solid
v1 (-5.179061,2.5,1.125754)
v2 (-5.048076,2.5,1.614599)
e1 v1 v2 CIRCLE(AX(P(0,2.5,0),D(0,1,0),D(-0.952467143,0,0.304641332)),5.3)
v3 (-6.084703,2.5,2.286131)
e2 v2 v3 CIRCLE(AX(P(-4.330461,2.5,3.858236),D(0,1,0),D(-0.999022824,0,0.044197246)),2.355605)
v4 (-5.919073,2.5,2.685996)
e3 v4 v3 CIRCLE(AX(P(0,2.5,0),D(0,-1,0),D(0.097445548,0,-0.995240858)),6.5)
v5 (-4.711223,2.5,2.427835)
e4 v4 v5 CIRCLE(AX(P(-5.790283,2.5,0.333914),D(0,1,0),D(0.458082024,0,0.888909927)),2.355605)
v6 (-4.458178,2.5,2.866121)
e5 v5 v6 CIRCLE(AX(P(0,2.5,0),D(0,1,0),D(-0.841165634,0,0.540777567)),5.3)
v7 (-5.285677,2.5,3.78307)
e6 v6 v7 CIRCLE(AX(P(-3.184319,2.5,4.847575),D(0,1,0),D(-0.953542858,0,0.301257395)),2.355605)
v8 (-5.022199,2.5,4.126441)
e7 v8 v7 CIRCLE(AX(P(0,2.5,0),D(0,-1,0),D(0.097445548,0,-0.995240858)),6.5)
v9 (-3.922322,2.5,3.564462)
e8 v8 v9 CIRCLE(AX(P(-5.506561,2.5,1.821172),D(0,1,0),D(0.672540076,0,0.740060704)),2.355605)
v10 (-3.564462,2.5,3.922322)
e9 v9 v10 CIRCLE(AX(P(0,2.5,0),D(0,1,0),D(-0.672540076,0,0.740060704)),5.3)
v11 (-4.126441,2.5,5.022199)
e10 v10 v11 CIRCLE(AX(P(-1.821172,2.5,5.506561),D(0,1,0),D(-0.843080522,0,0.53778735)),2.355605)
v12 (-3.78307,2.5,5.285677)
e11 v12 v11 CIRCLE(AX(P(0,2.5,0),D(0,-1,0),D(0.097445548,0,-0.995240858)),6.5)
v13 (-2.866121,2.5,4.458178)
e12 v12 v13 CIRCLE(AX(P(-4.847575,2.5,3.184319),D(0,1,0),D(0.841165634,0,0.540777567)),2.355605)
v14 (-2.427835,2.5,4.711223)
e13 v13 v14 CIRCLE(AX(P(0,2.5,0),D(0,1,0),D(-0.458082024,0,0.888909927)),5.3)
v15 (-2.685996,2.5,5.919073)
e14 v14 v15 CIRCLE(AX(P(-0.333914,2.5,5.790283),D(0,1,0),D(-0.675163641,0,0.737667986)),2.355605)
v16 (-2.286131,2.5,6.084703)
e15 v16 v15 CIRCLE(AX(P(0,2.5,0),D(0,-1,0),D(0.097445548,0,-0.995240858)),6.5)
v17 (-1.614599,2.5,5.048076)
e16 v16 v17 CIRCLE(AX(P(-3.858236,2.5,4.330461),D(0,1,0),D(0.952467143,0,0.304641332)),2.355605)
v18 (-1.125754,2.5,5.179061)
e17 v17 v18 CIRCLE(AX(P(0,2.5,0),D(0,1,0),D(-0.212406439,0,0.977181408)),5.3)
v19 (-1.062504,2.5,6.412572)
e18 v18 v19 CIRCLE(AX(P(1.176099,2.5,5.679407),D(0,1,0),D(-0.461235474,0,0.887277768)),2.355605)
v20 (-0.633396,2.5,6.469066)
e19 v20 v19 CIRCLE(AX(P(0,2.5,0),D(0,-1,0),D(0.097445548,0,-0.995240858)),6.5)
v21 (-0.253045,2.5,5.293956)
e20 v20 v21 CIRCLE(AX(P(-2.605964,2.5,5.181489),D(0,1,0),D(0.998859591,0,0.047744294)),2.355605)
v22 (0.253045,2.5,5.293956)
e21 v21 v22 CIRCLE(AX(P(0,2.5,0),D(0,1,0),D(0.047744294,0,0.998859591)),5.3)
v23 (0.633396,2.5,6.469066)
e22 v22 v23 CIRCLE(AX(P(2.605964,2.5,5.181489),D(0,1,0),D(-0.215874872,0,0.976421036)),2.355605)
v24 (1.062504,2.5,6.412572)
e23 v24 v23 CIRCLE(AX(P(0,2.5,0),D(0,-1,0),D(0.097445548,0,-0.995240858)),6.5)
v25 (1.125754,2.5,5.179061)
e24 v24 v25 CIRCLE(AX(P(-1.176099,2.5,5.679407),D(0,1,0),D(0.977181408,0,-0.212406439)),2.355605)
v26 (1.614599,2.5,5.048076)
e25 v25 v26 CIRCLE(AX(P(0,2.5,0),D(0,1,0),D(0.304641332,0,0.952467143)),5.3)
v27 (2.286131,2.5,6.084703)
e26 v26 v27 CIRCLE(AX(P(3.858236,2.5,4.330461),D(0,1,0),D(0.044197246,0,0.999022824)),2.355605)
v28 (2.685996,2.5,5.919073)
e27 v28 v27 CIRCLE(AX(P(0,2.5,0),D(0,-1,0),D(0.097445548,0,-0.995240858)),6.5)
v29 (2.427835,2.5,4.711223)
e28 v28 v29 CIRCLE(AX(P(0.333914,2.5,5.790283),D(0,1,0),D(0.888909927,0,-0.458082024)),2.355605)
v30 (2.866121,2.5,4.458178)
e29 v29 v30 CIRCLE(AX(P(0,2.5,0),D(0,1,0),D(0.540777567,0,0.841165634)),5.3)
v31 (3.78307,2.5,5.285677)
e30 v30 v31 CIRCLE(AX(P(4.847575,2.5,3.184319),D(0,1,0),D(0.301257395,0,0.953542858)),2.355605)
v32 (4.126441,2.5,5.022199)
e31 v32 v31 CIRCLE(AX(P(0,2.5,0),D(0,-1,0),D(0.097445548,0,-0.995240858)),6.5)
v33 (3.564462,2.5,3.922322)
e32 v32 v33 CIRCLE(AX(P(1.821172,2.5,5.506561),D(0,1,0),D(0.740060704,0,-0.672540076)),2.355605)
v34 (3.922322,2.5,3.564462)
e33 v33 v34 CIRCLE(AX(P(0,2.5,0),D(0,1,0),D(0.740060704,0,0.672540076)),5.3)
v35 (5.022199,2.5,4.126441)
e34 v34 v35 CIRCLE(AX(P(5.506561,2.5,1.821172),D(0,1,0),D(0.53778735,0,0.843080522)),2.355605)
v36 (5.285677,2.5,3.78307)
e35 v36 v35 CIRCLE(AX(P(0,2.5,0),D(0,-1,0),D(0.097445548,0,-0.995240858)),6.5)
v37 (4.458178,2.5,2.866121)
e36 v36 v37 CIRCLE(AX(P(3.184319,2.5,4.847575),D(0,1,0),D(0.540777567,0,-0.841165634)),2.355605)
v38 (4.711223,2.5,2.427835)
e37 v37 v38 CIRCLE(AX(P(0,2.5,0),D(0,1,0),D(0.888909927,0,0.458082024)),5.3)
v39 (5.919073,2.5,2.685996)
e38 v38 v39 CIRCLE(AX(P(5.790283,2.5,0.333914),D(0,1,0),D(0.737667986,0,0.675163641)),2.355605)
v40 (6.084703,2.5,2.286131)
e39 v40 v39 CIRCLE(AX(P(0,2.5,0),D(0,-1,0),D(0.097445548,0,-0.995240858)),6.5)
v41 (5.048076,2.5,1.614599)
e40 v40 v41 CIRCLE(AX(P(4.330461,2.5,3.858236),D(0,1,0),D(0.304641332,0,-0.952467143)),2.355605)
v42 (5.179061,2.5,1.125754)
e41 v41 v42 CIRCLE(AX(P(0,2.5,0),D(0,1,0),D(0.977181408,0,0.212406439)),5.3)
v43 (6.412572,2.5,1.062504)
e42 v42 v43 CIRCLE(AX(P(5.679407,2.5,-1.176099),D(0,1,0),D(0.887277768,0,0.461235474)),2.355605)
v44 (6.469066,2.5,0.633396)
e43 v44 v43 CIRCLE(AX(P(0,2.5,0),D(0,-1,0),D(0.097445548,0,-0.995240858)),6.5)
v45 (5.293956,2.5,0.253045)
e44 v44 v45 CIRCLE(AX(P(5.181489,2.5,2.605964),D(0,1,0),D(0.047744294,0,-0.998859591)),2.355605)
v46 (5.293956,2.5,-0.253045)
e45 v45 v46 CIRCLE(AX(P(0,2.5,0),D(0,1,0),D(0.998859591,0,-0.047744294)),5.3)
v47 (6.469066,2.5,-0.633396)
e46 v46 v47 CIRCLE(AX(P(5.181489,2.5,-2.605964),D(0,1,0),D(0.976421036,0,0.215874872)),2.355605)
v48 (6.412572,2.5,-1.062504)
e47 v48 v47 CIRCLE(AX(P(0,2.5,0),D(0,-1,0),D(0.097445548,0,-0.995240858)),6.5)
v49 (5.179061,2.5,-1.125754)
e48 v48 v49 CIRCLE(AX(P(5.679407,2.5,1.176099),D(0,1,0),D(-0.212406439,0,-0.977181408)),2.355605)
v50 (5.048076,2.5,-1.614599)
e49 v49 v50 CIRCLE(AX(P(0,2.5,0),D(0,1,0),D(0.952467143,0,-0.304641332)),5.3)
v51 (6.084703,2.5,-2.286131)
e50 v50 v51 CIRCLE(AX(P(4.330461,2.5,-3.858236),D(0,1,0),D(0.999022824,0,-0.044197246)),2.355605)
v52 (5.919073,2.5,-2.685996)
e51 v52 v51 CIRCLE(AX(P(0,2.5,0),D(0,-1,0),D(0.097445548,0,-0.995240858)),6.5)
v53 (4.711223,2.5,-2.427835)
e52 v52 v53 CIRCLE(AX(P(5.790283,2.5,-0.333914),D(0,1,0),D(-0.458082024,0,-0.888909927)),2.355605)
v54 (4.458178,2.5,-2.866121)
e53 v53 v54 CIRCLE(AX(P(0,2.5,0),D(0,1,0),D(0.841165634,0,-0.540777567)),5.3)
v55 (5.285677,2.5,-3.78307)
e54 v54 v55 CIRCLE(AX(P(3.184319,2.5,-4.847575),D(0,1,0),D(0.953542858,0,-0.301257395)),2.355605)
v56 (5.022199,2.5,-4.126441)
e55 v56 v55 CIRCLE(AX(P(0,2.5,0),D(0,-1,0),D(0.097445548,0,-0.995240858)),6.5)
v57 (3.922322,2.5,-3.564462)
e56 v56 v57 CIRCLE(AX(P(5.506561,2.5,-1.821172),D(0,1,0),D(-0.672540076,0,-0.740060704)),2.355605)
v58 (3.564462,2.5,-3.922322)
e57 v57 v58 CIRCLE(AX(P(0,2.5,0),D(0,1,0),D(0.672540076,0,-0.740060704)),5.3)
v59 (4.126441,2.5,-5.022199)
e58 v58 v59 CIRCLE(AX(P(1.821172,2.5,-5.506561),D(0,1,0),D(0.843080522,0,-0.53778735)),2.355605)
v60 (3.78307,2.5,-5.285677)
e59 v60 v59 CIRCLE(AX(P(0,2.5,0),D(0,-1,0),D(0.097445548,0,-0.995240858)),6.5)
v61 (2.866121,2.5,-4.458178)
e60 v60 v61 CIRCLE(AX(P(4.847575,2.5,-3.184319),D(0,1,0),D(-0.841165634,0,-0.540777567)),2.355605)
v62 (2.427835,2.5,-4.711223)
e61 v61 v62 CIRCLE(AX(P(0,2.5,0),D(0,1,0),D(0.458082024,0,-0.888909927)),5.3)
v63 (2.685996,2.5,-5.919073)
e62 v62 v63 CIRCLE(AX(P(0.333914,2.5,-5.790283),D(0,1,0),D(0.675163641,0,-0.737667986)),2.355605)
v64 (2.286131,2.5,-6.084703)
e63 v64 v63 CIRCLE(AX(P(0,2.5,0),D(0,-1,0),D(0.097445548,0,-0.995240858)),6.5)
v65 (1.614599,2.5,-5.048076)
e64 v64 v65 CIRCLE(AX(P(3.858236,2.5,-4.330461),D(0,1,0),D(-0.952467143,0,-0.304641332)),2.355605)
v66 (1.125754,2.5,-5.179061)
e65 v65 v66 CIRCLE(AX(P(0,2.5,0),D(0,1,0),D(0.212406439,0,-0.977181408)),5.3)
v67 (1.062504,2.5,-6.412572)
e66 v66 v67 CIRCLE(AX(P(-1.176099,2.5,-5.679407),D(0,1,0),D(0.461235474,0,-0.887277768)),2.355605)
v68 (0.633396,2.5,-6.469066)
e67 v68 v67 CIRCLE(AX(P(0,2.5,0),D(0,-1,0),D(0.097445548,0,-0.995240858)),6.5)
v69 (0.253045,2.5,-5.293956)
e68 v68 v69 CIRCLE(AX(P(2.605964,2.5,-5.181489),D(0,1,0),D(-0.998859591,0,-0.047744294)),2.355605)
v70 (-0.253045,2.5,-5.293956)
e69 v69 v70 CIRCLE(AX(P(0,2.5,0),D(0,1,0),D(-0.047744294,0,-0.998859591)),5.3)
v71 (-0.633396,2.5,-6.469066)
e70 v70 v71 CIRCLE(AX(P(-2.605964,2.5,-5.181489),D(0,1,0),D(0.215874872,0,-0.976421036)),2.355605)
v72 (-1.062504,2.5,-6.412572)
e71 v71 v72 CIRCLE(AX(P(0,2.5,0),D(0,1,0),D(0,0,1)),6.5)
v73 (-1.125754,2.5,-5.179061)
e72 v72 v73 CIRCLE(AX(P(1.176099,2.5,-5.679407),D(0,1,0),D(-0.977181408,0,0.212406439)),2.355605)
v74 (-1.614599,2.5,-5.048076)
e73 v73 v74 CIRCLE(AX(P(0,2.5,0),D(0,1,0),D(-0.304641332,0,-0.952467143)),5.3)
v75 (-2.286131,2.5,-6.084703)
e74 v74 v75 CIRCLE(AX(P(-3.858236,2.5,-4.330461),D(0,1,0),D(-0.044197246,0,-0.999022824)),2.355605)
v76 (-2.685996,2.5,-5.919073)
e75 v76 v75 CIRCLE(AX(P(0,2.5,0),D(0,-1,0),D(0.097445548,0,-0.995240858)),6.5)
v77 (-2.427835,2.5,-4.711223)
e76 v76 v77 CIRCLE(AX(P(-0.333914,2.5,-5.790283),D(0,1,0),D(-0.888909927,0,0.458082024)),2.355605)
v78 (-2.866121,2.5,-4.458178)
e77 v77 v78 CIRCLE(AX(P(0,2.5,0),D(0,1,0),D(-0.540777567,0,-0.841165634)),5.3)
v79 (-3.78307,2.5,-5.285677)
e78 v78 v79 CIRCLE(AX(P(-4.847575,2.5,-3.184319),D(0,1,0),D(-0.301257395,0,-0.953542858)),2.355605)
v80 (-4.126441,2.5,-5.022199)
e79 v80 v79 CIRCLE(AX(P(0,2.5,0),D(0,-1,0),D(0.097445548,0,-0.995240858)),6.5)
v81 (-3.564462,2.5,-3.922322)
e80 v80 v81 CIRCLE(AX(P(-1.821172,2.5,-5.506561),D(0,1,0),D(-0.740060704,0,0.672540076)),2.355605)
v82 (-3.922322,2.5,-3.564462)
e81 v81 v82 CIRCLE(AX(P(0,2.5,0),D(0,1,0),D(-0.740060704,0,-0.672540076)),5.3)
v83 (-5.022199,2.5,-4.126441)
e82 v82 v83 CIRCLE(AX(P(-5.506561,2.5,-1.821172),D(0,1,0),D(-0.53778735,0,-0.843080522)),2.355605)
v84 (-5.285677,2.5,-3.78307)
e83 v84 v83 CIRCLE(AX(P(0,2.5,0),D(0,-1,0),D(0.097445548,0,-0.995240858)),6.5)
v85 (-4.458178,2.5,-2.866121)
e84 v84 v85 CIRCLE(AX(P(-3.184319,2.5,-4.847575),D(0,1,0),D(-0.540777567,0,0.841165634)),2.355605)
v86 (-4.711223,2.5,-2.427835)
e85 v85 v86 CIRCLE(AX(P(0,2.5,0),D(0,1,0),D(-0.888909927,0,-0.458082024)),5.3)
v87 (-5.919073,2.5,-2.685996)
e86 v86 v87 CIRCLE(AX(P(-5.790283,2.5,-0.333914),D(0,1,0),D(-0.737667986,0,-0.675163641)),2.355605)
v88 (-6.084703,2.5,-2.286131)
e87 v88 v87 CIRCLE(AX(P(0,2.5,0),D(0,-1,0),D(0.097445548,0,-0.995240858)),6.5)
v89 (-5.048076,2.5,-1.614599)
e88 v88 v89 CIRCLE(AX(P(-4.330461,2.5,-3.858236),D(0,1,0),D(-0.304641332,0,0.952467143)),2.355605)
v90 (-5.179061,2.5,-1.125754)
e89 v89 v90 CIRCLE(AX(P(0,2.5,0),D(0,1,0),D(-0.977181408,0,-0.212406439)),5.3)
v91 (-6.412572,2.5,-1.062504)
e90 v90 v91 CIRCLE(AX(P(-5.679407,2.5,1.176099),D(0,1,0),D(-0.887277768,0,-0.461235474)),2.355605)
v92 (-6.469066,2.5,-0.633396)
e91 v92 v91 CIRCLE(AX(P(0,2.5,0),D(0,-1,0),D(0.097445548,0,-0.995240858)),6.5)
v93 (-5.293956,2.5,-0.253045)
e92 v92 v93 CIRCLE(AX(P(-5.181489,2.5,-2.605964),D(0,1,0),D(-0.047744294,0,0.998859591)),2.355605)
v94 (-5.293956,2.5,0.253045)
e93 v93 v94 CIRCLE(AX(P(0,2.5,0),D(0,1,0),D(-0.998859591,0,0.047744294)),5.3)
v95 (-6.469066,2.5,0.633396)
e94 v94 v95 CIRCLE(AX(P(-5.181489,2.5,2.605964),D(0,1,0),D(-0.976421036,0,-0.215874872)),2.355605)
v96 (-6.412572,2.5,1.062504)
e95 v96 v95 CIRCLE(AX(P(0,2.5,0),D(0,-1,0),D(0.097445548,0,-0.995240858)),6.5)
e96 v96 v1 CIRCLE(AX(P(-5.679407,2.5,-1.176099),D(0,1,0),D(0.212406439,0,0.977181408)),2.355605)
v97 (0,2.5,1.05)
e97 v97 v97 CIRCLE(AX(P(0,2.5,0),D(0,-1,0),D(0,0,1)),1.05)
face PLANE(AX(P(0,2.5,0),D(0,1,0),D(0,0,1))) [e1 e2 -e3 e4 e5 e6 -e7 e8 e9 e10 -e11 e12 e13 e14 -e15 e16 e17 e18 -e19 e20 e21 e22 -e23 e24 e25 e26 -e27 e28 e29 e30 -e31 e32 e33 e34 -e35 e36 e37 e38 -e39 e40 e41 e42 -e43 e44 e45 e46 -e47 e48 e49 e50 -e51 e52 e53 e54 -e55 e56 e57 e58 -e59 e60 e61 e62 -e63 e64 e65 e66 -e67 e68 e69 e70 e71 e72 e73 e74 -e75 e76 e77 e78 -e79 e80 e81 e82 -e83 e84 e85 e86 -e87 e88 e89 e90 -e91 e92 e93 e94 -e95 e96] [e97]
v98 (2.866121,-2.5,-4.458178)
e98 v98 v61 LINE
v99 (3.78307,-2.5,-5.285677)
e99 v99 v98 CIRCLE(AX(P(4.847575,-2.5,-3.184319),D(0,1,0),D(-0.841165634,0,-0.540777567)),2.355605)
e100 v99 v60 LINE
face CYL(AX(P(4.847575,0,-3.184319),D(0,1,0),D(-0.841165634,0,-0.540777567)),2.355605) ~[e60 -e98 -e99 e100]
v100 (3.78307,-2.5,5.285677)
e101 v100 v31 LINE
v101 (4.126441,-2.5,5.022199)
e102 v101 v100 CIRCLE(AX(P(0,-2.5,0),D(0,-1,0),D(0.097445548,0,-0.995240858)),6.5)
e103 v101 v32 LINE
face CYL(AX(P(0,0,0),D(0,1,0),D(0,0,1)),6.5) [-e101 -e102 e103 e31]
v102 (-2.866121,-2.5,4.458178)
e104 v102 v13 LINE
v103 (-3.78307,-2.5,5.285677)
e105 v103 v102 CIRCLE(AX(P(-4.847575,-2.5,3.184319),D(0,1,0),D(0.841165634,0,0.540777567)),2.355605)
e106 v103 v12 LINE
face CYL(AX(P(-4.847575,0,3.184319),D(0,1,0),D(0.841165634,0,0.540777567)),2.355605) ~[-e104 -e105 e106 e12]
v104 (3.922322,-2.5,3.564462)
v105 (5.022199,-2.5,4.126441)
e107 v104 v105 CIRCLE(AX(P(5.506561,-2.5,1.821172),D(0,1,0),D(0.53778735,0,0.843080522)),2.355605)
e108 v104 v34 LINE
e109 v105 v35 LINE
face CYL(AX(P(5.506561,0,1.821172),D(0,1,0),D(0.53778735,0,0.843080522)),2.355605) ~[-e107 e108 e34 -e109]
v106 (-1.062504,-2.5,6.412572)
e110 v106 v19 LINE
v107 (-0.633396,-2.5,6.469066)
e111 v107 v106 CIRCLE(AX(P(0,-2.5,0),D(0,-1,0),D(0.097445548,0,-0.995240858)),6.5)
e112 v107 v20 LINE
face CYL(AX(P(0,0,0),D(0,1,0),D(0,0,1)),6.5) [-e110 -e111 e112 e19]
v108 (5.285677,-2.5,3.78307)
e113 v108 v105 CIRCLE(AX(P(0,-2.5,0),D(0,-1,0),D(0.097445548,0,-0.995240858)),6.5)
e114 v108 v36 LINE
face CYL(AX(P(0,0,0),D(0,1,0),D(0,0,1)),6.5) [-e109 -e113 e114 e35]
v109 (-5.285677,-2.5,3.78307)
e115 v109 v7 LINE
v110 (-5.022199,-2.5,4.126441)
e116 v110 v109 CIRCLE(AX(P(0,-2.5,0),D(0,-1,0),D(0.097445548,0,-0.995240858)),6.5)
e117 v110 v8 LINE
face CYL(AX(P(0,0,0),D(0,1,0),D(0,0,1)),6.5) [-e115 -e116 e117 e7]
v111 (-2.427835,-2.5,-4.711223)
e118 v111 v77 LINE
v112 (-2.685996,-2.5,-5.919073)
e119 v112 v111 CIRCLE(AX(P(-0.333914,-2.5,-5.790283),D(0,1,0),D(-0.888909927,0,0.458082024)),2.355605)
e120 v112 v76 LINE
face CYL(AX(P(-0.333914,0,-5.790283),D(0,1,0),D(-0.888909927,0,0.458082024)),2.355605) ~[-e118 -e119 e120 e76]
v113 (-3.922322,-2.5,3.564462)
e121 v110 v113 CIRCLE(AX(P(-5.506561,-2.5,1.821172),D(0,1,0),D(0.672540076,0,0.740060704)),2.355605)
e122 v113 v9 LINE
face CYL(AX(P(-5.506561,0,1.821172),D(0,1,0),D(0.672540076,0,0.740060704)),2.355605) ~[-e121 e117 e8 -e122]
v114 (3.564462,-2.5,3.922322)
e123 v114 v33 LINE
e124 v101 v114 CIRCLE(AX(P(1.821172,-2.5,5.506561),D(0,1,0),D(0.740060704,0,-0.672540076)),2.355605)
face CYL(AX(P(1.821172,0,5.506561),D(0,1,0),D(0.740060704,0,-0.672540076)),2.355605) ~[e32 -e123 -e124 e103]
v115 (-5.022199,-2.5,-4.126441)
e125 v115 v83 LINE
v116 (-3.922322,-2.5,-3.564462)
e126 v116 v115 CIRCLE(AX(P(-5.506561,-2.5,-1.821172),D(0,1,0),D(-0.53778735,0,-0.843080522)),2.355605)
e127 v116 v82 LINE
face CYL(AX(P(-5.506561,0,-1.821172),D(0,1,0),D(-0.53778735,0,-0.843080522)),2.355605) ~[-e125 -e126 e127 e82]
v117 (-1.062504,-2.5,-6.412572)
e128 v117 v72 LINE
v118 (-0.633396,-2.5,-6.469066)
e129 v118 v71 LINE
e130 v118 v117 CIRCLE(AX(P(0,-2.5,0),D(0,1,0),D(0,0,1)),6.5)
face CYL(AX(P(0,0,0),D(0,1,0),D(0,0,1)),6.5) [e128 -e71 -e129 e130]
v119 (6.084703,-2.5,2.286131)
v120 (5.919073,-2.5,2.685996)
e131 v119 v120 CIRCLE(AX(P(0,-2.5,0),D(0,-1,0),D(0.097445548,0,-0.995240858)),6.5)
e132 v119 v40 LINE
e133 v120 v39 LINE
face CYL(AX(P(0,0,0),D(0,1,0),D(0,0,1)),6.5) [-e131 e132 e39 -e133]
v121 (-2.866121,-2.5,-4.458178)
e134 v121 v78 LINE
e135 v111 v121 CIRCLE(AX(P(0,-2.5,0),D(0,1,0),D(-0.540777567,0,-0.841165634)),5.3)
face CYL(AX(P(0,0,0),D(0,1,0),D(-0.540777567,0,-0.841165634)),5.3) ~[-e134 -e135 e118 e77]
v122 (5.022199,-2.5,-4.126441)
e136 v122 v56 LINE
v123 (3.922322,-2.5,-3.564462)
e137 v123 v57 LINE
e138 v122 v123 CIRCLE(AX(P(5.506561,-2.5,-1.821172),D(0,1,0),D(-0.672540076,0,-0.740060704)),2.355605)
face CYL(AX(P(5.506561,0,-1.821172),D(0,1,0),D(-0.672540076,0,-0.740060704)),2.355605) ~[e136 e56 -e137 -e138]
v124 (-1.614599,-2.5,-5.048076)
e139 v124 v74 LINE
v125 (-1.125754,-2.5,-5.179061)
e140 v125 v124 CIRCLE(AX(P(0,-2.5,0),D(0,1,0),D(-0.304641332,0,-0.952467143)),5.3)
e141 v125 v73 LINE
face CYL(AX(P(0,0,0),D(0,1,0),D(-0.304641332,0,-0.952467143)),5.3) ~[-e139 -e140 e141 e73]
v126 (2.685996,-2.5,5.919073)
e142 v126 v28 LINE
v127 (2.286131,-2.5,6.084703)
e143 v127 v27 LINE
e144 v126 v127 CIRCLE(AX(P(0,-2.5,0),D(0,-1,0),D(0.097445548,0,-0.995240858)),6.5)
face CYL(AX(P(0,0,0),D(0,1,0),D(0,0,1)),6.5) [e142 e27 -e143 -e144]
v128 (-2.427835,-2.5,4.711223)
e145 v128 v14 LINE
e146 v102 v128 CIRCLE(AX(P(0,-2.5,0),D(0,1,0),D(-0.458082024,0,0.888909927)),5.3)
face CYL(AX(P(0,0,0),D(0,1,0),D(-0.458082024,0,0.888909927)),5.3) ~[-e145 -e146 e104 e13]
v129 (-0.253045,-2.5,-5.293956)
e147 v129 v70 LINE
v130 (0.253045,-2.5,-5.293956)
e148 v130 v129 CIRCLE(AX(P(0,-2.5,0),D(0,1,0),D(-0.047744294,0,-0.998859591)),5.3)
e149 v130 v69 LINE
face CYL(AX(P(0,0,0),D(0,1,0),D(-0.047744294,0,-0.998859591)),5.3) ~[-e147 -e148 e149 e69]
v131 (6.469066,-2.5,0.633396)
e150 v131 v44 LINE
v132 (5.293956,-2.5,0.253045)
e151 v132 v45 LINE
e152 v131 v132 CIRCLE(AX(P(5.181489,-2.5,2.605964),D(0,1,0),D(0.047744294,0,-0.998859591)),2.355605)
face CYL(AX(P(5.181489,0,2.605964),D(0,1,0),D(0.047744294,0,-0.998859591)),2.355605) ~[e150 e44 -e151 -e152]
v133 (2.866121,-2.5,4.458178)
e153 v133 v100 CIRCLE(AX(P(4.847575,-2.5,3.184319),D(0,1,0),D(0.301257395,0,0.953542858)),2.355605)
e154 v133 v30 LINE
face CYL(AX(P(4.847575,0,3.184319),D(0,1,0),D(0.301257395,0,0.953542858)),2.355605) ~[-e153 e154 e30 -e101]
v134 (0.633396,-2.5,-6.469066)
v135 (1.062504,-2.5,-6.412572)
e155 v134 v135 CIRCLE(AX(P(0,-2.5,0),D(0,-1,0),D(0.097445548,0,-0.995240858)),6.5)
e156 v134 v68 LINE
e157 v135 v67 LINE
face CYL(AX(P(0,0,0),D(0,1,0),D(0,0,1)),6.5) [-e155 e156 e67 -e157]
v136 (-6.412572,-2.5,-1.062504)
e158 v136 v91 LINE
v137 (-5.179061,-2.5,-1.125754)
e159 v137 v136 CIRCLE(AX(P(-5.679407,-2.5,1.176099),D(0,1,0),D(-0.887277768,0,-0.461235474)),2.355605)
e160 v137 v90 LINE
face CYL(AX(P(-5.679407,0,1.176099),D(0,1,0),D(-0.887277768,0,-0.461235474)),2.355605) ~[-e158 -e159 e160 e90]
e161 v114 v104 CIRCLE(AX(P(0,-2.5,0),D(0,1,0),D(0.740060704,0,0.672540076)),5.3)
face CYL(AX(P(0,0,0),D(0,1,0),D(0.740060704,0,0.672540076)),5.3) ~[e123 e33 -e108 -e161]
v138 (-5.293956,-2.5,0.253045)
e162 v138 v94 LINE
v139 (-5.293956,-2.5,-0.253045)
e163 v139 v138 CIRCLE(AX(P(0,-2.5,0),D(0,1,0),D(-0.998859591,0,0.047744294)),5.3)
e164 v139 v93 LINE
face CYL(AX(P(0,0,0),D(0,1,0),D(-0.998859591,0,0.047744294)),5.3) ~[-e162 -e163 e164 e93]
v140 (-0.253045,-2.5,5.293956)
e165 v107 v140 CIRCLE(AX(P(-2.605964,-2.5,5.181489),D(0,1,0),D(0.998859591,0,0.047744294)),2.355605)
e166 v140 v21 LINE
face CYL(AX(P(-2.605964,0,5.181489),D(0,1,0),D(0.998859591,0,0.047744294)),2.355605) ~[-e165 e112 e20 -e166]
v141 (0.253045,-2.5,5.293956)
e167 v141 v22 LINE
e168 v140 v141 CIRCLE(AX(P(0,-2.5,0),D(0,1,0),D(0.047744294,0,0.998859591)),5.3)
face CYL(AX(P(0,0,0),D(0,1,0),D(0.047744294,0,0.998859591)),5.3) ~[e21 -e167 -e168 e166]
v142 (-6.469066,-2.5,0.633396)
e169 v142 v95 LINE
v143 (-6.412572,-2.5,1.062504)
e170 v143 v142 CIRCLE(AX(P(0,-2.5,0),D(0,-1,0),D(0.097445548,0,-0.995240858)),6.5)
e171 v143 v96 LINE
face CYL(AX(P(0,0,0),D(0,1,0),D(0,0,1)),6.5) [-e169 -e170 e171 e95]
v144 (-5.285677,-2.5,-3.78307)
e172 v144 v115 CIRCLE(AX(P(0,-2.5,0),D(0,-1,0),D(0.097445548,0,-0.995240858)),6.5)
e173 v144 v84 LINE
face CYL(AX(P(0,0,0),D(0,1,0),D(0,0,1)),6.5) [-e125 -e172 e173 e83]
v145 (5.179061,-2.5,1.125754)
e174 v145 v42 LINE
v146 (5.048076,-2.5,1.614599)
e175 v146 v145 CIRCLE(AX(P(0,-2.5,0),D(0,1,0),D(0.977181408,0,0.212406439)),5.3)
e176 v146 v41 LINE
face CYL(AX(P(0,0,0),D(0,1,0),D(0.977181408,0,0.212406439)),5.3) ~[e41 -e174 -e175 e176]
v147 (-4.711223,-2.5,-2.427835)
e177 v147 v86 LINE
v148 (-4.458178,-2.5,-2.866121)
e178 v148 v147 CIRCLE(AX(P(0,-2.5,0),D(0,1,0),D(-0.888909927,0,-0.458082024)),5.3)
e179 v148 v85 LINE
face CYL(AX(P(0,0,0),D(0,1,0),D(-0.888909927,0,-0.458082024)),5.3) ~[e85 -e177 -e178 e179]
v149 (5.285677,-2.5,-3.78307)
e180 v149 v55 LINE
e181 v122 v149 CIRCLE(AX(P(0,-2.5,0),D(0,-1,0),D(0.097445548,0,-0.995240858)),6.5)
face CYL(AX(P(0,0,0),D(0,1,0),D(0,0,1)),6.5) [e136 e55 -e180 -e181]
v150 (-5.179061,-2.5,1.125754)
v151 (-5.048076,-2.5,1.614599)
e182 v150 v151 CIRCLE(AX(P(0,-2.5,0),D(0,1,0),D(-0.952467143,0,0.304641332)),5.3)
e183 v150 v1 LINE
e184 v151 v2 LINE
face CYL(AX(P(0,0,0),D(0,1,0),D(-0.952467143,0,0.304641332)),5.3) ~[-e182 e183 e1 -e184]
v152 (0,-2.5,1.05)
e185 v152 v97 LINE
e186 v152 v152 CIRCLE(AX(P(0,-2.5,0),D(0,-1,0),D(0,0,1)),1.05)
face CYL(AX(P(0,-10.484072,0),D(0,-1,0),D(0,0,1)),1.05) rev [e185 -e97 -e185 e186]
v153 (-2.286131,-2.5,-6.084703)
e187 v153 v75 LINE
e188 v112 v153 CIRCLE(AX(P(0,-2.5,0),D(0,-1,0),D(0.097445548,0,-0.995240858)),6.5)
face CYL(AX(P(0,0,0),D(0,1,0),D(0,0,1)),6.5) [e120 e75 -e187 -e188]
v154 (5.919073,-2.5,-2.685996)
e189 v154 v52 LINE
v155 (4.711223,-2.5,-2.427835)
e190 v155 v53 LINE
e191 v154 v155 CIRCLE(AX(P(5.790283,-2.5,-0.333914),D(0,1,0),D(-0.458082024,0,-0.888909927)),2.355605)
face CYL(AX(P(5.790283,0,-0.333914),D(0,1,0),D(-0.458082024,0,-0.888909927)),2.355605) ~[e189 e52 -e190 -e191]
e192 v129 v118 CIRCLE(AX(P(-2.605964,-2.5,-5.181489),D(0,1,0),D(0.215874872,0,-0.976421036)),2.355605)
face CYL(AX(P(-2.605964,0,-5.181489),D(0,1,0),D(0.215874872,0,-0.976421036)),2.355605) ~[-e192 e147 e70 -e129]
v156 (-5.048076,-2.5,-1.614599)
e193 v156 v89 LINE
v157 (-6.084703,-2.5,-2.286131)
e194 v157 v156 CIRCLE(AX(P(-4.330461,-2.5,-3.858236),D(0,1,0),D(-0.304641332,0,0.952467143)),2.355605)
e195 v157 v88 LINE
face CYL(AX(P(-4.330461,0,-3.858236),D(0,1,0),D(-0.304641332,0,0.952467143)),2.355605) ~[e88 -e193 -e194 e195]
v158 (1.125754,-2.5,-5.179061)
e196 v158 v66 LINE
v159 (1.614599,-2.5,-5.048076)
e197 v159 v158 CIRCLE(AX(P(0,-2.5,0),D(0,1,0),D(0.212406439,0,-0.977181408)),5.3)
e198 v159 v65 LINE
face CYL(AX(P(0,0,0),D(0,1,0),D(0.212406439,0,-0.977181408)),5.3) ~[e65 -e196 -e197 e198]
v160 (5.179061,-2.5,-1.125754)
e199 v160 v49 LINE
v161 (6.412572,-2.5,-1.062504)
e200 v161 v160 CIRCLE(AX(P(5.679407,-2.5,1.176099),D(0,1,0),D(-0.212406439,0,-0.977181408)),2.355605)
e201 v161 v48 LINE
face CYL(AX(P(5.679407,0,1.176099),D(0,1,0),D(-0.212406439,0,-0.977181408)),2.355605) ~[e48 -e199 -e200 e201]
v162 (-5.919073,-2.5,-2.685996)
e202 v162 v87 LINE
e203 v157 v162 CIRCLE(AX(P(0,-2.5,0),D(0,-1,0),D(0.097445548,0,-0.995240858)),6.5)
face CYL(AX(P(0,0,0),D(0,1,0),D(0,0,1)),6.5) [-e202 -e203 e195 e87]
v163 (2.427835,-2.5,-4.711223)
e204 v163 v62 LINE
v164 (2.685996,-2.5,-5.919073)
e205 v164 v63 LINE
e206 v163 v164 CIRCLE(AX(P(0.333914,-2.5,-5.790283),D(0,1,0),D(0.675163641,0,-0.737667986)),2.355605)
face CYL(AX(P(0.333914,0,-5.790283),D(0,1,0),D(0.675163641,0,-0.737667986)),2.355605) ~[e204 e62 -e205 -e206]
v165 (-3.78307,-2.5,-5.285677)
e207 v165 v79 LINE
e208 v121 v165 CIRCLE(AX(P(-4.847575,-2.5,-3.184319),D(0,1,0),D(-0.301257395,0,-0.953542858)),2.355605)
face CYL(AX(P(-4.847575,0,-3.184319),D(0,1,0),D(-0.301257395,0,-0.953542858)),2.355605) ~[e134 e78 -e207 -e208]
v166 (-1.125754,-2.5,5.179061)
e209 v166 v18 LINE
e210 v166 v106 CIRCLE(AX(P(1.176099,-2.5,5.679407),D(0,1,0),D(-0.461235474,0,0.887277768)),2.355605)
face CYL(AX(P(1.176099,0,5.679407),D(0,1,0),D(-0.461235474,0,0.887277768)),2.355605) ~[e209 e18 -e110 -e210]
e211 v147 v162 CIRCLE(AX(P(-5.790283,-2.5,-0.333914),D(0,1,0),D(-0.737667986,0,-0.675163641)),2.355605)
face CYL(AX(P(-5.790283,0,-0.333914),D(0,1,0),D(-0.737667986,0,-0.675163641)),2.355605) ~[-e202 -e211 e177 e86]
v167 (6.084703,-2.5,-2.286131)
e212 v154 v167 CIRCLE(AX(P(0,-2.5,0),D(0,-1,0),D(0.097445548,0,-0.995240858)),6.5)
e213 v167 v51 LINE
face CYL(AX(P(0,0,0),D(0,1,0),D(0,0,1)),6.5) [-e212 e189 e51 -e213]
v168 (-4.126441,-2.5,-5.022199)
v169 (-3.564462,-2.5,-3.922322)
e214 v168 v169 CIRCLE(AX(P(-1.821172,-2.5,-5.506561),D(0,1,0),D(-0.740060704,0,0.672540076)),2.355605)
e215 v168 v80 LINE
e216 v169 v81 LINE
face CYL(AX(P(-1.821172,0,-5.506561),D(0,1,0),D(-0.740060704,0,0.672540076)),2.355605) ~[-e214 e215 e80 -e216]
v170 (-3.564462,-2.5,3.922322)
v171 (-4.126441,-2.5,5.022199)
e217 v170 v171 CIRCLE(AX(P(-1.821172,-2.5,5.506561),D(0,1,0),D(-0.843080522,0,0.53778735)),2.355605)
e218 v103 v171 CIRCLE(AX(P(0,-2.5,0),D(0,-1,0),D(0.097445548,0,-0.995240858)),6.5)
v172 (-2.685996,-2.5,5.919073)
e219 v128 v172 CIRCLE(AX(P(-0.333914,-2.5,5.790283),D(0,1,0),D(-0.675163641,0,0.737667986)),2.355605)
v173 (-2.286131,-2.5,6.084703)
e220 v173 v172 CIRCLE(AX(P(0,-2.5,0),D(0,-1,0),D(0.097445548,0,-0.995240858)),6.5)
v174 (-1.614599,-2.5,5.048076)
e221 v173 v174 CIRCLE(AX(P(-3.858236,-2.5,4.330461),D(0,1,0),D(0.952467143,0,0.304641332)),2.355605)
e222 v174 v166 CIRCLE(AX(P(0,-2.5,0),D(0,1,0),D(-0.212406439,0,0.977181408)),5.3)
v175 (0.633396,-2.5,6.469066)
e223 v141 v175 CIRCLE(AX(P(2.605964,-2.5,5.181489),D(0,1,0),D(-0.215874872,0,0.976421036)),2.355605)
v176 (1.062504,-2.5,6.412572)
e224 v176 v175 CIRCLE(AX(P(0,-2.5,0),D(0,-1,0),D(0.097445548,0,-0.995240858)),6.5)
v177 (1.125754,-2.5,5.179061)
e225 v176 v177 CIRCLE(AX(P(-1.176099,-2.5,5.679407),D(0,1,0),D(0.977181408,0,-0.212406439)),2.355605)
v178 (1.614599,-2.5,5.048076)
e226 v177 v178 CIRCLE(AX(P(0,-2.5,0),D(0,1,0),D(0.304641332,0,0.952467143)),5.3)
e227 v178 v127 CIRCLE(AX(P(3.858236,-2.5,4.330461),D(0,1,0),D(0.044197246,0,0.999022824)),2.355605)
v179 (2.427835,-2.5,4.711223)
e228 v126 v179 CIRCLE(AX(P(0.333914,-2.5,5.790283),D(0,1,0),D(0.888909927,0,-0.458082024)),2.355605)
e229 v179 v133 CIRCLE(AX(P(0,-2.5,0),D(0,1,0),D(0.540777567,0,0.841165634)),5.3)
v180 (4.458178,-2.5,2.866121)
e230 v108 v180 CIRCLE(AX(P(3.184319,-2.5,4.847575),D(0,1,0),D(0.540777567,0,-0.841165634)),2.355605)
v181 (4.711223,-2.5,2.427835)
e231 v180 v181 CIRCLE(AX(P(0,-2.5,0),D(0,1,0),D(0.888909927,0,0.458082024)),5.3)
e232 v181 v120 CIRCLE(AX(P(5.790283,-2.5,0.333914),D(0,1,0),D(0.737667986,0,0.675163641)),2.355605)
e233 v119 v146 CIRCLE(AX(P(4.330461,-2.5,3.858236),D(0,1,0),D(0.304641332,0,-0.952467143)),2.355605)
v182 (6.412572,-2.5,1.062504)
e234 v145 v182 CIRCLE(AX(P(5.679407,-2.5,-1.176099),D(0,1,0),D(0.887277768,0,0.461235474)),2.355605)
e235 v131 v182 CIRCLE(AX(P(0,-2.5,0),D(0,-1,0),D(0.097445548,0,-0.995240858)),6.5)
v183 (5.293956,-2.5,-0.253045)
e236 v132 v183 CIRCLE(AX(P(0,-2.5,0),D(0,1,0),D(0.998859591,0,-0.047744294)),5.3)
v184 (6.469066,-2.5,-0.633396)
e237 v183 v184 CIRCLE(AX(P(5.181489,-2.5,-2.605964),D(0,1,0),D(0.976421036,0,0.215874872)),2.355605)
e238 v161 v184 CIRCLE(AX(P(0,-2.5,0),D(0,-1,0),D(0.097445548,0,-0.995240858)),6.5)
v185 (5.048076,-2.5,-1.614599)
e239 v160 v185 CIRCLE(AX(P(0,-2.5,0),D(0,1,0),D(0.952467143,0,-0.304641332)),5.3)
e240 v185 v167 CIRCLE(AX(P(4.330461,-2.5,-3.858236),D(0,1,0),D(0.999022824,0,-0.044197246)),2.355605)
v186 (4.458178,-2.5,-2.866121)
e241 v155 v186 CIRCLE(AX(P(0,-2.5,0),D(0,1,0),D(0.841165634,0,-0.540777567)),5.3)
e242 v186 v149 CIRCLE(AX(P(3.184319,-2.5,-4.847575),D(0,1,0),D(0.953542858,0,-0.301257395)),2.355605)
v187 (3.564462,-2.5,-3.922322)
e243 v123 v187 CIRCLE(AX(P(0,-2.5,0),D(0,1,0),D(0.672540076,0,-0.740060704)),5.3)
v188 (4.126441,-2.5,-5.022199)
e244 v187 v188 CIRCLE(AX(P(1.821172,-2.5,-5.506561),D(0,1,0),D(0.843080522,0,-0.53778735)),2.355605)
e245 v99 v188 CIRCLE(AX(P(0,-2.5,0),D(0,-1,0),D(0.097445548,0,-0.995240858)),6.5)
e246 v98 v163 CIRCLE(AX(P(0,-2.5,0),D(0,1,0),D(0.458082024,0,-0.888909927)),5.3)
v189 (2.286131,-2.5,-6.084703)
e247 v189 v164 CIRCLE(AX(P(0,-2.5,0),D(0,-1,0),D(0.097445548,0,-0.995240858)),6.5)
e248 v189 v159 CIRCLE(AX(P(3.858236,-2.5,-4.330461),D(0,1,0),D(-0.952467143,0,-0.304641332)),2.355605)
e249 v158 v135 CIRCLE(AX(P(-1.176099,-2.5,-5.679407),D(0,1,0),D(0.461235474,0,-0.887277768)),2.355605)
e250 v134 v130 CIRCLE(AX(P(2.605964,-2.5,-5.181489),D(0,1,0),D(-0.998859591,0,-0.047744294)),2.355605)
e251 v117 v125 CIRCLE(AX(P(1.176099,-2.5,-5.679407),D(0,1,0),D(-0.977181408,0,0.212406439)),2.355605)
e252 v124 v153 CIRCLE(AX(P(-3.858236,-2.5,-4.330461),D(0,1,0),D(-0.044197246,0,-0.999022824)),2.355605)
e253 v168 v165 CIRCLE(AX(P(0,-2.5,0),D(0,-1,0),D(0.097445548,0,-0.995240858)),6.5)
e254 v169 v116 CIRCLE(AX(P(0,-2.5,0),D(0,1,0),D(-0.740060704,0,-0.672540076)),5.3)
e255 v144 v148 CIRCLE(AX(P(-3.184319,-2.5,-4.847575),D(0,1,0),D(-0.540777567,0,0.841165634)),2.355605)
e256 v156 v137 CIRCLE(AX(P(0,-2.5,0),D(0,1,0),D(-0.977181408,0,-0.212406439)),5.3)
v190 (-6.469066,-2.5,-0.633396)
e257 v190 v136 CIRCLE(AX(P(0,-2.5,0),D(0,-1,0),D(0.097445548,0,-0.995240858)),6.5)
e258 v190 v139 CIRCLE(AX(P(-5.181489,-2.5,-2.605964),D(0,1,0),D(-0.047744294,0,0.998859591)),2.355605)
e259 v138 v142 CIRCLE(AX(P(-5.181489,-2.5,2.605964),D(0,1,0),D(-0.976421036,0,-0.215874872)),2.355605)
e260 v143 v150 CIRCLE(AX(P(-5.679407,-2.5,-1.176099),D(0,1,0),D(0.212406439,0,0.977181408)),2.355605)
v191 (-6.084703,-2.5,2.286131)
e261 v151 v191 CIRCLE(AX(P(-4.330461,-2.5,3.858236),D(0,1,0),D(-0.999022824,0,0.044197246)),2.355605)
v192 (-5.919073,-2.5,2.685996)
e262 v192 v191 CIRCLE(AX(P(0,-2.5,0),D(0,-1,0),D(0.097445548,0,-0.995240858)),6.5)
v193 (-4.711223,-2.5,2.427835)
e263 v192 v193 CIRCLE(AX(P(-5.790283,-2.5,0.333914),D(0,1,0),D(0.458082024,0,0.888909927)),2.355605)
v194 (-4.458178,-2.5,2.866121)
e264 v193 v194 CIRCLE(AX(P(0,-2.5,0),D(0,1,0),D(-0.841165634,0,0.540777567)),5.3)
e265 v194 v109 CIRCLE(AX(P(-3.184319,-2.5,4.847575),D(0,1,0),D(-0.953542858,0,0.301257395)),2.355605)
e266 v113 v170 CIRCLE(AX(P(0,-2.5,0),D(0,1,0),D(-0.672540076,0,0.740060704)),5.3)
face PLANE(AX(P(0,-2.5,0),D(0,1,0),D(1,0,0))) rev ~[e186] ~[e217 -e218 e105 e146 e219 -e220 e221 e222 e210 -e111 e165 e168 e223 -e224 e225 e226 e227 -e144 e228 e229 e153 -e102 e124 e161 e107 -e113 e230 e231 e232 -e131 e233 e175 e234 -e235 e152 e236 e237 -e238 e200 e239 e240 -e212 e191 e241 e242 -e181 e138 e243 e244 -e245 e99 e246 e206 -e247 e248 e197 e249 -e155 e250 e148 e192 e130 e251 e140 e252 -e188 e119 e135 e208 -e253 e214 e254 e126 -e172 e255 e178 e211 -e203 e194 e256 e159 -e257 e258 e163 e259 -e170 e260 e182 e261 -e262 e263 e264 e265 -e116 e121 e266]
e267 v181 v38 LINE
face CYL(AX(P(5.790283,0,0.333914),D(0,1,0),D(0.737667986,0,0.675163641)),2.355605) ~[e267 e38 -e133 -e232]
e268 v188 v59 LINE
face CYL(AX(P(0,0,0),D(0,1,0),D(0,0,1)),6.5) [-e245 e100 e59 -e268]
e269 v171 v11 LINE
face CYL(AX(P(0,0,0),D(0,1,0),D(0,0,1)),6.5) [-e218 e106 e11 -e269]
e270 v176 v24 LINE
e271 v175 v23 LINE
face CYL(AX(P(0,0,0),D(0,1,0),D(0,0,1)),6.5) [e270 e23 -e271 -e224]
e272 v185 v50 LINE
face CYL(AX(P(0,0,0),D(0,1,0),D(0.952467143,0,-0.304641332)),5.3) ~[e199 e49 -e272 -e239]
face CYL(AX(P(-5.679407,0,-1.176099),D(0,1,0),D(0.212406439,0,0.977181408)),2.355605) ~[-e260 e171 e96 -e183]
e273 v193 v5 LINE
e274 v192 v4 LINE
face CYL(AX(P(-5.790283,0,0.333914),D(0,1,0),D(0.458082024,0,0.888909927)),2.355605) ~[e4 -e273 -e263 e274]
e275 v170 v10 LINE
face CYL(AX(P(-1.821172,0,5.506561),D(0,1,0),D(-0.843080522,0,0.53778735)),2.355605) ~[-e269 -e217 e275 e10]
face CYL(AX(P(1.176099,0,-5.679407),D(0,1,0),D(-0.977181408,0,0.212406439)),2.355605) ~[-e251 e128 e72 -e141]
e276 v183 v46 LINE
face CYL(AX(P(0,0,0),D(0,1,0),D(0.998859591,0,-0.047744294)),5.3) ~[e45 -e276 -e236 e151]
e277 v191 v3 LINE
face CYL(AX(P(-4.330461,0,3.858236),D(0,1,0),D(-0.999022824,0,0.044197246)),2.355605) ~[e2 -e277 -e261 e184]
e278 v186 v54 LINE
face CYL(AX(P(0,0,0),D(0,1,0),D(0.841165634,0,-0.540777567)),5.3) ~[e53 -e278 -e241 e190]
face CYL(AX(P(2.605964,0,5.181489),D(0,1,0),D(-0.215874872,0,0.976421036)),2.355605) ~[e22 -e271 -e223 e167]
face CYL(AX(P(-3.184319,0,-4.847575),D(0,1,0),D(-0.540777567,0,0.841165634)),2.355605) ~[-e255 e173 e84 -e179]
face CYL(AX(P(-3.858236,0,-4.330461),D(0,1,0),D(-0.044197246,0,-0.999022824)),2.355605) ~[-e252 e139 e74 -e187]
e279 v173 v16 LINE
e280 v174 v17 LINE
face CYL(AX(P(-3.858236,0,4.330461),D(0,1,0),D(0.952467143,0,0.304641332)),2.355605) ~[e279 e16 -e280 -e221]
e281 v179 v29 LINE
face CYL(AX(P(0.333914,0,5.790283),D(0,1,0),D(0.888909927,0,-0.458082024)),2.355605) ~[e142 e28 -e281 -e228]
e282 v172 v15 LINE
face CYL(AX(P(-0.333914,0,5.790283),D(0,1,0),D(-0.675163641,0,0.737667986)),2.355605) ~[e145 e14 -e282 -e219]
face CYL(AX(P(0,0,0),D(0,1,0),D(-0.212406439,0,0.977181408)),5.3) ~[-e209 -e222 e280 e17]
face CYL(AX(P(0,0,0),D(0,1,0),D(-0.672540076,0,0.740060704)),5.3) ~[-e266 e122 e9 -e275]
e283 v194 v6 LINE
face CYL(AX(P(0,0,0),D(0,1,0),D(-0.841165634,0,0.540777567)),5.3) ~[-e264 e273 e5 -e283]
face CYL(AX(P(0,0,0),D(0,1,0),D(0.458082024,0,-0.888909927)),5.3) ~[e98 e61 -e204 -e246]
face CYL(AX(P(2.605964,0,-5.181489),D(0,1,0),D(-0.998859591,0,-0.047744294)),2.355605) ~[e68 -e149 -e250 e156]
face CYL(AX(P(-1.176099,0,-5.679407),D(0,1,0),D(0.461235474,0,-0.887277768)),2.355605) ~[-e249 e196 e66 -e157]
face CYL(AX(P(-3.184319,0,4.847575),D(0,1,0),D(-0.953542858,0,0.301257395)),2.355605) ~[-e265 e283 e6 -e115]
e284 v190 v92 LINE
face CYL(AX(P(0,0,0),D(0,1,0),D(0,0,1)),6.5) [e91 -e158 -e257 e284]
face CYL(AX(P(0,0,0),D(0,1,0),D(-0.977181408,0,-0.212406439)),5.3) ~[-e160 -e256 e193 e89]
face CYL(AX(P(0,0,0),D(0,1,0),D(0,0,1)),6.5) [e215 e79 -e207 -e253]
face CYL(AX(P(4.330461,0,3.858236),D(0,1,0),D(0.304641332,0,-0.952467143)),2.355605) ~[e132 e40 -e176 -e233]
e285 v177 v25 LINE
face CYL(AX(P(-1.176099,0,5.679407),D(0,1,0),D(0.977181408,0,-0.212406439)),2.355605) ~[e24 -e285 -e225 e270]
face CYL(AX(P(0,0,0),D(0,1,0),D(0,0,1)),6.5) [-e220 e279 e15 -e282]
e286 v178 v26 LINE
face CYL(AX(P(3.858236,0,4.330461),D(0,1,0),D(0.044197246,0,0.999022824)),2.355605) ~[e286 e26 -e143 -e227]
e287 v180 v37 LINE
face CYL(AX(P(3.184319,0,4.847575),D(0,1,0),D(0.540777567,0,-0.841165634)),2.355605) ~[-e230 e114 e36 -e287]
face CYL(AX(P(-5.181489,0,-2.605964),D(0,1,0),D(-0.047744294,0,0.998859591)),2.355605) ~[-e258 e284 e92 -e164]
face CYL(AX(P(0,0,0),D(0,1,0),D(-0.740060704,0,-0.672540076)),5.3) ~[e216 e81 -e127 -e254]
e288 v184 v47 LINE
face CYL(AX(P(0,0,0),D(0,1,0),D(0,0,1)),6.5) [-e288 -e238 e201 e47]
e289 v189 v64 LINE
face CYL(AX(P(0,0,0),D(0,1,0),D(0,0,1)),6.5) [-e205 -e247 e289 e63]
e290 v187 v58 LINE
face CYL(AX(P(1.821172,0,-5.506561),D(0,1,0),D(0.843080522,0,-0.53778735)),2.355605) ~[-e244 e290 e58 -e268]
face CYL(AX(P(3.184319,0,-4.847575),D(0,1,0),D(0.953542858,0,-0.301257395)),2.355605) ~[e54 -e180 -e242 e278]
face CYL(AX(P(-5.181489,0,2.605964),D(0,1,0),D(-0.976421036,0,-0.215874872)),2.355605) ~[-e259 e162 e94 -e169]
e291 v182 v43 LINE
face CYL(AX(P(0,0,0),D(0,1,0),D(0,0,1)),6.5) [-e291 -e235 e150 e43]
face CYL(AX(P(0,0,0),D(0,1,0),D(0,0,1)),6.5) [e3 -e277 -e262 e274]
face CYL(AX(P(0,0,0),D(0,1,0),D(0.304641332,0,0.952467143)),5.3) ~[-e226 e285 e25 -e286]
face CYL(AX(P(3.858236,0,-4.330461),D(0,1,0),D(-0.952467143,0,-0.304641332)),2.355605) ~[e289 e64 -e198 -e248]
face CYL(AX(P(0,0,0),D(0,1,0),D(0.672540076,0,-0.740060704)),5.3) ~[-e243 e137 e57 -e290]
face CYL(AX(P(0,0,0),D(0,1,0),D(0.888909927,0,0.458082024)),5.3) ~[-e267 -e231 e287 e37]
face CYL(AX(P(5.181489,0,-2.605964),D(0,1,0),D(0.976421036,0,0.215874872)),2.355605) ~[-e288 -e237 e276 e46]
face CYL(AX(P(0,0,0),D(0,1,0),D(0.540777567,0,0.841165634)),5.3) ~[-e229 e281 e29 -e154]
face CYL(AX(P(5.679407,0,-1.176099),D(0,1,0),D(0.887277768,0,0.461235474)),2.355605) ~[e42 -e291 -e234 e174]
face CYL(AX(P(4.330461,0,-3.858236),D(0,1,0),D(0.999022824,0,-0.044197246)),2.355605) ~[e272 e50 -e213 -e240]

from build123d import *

# Parameters (mm, degrees)
SKETCH1_R               = 6.5
SKETCH1_R_2             = 6
SKETCH1_R_3             = 5.3
BOSS_EXTRUDE1_DEPTH     = 2.5
CUT_EXTRUDE1_DEPTH      = 10.526279442
CIRPATTERN1_COUNT       = 24
CUT_EXTRUDE2_DEPTH      = 10.48407185
CUT_EXTRUDE2_DEPTH_BACK = 10.48407185
SKETCH4_R               = 1.05


with BuildPart() as part:
    # Sketch1 → Boss-Extrude1 (new, symmetric)
    # profile 1 of 3: a face of its own
    with BuildSketch(Plane(origin=(0, 0, 0), x_dir=(1, 0, 0), z_dir=(0, 1, 0))):
        with Locations(Location((0, 0, 0), (0, 0, 270))):
            Circle(SKETCH1_R)
        Circle(SKETCH1_R_2, mode=Mode.SUBTRACT)
    # profile 2 of 3: a face of its own
    with BuildSketch(Plane(origin=(0, 0, 0), x_dir=(1, 0, 0), z_dir=(0, 1, 0))):
        Circle(SKETCH1_R_2)
        Circle(SKETCH1_R_3, mode=Mode.SUBTRACT)
    # profile 3 of 3: a face of its own
    with BuildSketch(Plane(origin=(0, 0, 0), x_dir=(1, 0, 0), z_dir=(0, 1, 0))):
        Circle(SKETCH1_R_3)
    extrude(amount=BOSS_EXTRUDE1_DEPTH, both=True)

    # Sketch3 → Cut-Extrude1 (cut, symmetric)
    with BuildSketch(Plane(origin=(0, 0, 0), x_dir=(1, 0, 0), z_dir=(0, 1, 0))):
        with BuildLine():
            ThreePointArc((-2.097447593, 7.48155155), (-0.805034356, 6.699886195), (-0.253044756, 5.293955832))
            ThreePointArc((-0.253044756, 5.293955832), (0, 5.3), (0.253044756, 5.293955832))
            ThreePointArc((0.253044756, 5.293955832), (0.805034356, 6.699886195), (2.097447593, 7.48155155))
            ThreePointArc((2.097447593, 7.48155155), (0, 7.77), (-2.097447593, 7.48155155))
        make_face()
    cut_extrude1 = extrude(amount=CUT_EXTRUDE1_DEPTH, both=True, mode=Mode.SUBTRACT)

    # CirPattern1: Cut-Extrude1 ×24 about axis
    cirpattern1_axis = Axis((0, 0, 0), (0, 1, 0))
    for i in range(1, CIRPATTERN1_COUNT):
        add(cut_extrude1.rotate(cirpattern1_axis, i * 360 / CIRPATTERN1_COUNT), mode=Mode.SUBTRACT)

    # Sketch4 → Cut-Extrude2 (cut, two sides: drawn at the far end of the back side and taken through both)
    with BuildSketch(Plane(origin=(0, 0, 0), x_dir=(1, 0, 0), z_dir=(0, 1, 0)).offset(-CUT_EXTRUDE2_DEPTH_BACK)):
        with Locations(Location((0, 0, 0), (0, 0, 270))):
            Circle(SKETCH4_R)
    extrude(amount=CUT_EXTRUDE2_DEPTH + CUT_EXTRUDE2_DEPTH_BACK, mode=Mode.SUBTRACT)


solid = part.part
